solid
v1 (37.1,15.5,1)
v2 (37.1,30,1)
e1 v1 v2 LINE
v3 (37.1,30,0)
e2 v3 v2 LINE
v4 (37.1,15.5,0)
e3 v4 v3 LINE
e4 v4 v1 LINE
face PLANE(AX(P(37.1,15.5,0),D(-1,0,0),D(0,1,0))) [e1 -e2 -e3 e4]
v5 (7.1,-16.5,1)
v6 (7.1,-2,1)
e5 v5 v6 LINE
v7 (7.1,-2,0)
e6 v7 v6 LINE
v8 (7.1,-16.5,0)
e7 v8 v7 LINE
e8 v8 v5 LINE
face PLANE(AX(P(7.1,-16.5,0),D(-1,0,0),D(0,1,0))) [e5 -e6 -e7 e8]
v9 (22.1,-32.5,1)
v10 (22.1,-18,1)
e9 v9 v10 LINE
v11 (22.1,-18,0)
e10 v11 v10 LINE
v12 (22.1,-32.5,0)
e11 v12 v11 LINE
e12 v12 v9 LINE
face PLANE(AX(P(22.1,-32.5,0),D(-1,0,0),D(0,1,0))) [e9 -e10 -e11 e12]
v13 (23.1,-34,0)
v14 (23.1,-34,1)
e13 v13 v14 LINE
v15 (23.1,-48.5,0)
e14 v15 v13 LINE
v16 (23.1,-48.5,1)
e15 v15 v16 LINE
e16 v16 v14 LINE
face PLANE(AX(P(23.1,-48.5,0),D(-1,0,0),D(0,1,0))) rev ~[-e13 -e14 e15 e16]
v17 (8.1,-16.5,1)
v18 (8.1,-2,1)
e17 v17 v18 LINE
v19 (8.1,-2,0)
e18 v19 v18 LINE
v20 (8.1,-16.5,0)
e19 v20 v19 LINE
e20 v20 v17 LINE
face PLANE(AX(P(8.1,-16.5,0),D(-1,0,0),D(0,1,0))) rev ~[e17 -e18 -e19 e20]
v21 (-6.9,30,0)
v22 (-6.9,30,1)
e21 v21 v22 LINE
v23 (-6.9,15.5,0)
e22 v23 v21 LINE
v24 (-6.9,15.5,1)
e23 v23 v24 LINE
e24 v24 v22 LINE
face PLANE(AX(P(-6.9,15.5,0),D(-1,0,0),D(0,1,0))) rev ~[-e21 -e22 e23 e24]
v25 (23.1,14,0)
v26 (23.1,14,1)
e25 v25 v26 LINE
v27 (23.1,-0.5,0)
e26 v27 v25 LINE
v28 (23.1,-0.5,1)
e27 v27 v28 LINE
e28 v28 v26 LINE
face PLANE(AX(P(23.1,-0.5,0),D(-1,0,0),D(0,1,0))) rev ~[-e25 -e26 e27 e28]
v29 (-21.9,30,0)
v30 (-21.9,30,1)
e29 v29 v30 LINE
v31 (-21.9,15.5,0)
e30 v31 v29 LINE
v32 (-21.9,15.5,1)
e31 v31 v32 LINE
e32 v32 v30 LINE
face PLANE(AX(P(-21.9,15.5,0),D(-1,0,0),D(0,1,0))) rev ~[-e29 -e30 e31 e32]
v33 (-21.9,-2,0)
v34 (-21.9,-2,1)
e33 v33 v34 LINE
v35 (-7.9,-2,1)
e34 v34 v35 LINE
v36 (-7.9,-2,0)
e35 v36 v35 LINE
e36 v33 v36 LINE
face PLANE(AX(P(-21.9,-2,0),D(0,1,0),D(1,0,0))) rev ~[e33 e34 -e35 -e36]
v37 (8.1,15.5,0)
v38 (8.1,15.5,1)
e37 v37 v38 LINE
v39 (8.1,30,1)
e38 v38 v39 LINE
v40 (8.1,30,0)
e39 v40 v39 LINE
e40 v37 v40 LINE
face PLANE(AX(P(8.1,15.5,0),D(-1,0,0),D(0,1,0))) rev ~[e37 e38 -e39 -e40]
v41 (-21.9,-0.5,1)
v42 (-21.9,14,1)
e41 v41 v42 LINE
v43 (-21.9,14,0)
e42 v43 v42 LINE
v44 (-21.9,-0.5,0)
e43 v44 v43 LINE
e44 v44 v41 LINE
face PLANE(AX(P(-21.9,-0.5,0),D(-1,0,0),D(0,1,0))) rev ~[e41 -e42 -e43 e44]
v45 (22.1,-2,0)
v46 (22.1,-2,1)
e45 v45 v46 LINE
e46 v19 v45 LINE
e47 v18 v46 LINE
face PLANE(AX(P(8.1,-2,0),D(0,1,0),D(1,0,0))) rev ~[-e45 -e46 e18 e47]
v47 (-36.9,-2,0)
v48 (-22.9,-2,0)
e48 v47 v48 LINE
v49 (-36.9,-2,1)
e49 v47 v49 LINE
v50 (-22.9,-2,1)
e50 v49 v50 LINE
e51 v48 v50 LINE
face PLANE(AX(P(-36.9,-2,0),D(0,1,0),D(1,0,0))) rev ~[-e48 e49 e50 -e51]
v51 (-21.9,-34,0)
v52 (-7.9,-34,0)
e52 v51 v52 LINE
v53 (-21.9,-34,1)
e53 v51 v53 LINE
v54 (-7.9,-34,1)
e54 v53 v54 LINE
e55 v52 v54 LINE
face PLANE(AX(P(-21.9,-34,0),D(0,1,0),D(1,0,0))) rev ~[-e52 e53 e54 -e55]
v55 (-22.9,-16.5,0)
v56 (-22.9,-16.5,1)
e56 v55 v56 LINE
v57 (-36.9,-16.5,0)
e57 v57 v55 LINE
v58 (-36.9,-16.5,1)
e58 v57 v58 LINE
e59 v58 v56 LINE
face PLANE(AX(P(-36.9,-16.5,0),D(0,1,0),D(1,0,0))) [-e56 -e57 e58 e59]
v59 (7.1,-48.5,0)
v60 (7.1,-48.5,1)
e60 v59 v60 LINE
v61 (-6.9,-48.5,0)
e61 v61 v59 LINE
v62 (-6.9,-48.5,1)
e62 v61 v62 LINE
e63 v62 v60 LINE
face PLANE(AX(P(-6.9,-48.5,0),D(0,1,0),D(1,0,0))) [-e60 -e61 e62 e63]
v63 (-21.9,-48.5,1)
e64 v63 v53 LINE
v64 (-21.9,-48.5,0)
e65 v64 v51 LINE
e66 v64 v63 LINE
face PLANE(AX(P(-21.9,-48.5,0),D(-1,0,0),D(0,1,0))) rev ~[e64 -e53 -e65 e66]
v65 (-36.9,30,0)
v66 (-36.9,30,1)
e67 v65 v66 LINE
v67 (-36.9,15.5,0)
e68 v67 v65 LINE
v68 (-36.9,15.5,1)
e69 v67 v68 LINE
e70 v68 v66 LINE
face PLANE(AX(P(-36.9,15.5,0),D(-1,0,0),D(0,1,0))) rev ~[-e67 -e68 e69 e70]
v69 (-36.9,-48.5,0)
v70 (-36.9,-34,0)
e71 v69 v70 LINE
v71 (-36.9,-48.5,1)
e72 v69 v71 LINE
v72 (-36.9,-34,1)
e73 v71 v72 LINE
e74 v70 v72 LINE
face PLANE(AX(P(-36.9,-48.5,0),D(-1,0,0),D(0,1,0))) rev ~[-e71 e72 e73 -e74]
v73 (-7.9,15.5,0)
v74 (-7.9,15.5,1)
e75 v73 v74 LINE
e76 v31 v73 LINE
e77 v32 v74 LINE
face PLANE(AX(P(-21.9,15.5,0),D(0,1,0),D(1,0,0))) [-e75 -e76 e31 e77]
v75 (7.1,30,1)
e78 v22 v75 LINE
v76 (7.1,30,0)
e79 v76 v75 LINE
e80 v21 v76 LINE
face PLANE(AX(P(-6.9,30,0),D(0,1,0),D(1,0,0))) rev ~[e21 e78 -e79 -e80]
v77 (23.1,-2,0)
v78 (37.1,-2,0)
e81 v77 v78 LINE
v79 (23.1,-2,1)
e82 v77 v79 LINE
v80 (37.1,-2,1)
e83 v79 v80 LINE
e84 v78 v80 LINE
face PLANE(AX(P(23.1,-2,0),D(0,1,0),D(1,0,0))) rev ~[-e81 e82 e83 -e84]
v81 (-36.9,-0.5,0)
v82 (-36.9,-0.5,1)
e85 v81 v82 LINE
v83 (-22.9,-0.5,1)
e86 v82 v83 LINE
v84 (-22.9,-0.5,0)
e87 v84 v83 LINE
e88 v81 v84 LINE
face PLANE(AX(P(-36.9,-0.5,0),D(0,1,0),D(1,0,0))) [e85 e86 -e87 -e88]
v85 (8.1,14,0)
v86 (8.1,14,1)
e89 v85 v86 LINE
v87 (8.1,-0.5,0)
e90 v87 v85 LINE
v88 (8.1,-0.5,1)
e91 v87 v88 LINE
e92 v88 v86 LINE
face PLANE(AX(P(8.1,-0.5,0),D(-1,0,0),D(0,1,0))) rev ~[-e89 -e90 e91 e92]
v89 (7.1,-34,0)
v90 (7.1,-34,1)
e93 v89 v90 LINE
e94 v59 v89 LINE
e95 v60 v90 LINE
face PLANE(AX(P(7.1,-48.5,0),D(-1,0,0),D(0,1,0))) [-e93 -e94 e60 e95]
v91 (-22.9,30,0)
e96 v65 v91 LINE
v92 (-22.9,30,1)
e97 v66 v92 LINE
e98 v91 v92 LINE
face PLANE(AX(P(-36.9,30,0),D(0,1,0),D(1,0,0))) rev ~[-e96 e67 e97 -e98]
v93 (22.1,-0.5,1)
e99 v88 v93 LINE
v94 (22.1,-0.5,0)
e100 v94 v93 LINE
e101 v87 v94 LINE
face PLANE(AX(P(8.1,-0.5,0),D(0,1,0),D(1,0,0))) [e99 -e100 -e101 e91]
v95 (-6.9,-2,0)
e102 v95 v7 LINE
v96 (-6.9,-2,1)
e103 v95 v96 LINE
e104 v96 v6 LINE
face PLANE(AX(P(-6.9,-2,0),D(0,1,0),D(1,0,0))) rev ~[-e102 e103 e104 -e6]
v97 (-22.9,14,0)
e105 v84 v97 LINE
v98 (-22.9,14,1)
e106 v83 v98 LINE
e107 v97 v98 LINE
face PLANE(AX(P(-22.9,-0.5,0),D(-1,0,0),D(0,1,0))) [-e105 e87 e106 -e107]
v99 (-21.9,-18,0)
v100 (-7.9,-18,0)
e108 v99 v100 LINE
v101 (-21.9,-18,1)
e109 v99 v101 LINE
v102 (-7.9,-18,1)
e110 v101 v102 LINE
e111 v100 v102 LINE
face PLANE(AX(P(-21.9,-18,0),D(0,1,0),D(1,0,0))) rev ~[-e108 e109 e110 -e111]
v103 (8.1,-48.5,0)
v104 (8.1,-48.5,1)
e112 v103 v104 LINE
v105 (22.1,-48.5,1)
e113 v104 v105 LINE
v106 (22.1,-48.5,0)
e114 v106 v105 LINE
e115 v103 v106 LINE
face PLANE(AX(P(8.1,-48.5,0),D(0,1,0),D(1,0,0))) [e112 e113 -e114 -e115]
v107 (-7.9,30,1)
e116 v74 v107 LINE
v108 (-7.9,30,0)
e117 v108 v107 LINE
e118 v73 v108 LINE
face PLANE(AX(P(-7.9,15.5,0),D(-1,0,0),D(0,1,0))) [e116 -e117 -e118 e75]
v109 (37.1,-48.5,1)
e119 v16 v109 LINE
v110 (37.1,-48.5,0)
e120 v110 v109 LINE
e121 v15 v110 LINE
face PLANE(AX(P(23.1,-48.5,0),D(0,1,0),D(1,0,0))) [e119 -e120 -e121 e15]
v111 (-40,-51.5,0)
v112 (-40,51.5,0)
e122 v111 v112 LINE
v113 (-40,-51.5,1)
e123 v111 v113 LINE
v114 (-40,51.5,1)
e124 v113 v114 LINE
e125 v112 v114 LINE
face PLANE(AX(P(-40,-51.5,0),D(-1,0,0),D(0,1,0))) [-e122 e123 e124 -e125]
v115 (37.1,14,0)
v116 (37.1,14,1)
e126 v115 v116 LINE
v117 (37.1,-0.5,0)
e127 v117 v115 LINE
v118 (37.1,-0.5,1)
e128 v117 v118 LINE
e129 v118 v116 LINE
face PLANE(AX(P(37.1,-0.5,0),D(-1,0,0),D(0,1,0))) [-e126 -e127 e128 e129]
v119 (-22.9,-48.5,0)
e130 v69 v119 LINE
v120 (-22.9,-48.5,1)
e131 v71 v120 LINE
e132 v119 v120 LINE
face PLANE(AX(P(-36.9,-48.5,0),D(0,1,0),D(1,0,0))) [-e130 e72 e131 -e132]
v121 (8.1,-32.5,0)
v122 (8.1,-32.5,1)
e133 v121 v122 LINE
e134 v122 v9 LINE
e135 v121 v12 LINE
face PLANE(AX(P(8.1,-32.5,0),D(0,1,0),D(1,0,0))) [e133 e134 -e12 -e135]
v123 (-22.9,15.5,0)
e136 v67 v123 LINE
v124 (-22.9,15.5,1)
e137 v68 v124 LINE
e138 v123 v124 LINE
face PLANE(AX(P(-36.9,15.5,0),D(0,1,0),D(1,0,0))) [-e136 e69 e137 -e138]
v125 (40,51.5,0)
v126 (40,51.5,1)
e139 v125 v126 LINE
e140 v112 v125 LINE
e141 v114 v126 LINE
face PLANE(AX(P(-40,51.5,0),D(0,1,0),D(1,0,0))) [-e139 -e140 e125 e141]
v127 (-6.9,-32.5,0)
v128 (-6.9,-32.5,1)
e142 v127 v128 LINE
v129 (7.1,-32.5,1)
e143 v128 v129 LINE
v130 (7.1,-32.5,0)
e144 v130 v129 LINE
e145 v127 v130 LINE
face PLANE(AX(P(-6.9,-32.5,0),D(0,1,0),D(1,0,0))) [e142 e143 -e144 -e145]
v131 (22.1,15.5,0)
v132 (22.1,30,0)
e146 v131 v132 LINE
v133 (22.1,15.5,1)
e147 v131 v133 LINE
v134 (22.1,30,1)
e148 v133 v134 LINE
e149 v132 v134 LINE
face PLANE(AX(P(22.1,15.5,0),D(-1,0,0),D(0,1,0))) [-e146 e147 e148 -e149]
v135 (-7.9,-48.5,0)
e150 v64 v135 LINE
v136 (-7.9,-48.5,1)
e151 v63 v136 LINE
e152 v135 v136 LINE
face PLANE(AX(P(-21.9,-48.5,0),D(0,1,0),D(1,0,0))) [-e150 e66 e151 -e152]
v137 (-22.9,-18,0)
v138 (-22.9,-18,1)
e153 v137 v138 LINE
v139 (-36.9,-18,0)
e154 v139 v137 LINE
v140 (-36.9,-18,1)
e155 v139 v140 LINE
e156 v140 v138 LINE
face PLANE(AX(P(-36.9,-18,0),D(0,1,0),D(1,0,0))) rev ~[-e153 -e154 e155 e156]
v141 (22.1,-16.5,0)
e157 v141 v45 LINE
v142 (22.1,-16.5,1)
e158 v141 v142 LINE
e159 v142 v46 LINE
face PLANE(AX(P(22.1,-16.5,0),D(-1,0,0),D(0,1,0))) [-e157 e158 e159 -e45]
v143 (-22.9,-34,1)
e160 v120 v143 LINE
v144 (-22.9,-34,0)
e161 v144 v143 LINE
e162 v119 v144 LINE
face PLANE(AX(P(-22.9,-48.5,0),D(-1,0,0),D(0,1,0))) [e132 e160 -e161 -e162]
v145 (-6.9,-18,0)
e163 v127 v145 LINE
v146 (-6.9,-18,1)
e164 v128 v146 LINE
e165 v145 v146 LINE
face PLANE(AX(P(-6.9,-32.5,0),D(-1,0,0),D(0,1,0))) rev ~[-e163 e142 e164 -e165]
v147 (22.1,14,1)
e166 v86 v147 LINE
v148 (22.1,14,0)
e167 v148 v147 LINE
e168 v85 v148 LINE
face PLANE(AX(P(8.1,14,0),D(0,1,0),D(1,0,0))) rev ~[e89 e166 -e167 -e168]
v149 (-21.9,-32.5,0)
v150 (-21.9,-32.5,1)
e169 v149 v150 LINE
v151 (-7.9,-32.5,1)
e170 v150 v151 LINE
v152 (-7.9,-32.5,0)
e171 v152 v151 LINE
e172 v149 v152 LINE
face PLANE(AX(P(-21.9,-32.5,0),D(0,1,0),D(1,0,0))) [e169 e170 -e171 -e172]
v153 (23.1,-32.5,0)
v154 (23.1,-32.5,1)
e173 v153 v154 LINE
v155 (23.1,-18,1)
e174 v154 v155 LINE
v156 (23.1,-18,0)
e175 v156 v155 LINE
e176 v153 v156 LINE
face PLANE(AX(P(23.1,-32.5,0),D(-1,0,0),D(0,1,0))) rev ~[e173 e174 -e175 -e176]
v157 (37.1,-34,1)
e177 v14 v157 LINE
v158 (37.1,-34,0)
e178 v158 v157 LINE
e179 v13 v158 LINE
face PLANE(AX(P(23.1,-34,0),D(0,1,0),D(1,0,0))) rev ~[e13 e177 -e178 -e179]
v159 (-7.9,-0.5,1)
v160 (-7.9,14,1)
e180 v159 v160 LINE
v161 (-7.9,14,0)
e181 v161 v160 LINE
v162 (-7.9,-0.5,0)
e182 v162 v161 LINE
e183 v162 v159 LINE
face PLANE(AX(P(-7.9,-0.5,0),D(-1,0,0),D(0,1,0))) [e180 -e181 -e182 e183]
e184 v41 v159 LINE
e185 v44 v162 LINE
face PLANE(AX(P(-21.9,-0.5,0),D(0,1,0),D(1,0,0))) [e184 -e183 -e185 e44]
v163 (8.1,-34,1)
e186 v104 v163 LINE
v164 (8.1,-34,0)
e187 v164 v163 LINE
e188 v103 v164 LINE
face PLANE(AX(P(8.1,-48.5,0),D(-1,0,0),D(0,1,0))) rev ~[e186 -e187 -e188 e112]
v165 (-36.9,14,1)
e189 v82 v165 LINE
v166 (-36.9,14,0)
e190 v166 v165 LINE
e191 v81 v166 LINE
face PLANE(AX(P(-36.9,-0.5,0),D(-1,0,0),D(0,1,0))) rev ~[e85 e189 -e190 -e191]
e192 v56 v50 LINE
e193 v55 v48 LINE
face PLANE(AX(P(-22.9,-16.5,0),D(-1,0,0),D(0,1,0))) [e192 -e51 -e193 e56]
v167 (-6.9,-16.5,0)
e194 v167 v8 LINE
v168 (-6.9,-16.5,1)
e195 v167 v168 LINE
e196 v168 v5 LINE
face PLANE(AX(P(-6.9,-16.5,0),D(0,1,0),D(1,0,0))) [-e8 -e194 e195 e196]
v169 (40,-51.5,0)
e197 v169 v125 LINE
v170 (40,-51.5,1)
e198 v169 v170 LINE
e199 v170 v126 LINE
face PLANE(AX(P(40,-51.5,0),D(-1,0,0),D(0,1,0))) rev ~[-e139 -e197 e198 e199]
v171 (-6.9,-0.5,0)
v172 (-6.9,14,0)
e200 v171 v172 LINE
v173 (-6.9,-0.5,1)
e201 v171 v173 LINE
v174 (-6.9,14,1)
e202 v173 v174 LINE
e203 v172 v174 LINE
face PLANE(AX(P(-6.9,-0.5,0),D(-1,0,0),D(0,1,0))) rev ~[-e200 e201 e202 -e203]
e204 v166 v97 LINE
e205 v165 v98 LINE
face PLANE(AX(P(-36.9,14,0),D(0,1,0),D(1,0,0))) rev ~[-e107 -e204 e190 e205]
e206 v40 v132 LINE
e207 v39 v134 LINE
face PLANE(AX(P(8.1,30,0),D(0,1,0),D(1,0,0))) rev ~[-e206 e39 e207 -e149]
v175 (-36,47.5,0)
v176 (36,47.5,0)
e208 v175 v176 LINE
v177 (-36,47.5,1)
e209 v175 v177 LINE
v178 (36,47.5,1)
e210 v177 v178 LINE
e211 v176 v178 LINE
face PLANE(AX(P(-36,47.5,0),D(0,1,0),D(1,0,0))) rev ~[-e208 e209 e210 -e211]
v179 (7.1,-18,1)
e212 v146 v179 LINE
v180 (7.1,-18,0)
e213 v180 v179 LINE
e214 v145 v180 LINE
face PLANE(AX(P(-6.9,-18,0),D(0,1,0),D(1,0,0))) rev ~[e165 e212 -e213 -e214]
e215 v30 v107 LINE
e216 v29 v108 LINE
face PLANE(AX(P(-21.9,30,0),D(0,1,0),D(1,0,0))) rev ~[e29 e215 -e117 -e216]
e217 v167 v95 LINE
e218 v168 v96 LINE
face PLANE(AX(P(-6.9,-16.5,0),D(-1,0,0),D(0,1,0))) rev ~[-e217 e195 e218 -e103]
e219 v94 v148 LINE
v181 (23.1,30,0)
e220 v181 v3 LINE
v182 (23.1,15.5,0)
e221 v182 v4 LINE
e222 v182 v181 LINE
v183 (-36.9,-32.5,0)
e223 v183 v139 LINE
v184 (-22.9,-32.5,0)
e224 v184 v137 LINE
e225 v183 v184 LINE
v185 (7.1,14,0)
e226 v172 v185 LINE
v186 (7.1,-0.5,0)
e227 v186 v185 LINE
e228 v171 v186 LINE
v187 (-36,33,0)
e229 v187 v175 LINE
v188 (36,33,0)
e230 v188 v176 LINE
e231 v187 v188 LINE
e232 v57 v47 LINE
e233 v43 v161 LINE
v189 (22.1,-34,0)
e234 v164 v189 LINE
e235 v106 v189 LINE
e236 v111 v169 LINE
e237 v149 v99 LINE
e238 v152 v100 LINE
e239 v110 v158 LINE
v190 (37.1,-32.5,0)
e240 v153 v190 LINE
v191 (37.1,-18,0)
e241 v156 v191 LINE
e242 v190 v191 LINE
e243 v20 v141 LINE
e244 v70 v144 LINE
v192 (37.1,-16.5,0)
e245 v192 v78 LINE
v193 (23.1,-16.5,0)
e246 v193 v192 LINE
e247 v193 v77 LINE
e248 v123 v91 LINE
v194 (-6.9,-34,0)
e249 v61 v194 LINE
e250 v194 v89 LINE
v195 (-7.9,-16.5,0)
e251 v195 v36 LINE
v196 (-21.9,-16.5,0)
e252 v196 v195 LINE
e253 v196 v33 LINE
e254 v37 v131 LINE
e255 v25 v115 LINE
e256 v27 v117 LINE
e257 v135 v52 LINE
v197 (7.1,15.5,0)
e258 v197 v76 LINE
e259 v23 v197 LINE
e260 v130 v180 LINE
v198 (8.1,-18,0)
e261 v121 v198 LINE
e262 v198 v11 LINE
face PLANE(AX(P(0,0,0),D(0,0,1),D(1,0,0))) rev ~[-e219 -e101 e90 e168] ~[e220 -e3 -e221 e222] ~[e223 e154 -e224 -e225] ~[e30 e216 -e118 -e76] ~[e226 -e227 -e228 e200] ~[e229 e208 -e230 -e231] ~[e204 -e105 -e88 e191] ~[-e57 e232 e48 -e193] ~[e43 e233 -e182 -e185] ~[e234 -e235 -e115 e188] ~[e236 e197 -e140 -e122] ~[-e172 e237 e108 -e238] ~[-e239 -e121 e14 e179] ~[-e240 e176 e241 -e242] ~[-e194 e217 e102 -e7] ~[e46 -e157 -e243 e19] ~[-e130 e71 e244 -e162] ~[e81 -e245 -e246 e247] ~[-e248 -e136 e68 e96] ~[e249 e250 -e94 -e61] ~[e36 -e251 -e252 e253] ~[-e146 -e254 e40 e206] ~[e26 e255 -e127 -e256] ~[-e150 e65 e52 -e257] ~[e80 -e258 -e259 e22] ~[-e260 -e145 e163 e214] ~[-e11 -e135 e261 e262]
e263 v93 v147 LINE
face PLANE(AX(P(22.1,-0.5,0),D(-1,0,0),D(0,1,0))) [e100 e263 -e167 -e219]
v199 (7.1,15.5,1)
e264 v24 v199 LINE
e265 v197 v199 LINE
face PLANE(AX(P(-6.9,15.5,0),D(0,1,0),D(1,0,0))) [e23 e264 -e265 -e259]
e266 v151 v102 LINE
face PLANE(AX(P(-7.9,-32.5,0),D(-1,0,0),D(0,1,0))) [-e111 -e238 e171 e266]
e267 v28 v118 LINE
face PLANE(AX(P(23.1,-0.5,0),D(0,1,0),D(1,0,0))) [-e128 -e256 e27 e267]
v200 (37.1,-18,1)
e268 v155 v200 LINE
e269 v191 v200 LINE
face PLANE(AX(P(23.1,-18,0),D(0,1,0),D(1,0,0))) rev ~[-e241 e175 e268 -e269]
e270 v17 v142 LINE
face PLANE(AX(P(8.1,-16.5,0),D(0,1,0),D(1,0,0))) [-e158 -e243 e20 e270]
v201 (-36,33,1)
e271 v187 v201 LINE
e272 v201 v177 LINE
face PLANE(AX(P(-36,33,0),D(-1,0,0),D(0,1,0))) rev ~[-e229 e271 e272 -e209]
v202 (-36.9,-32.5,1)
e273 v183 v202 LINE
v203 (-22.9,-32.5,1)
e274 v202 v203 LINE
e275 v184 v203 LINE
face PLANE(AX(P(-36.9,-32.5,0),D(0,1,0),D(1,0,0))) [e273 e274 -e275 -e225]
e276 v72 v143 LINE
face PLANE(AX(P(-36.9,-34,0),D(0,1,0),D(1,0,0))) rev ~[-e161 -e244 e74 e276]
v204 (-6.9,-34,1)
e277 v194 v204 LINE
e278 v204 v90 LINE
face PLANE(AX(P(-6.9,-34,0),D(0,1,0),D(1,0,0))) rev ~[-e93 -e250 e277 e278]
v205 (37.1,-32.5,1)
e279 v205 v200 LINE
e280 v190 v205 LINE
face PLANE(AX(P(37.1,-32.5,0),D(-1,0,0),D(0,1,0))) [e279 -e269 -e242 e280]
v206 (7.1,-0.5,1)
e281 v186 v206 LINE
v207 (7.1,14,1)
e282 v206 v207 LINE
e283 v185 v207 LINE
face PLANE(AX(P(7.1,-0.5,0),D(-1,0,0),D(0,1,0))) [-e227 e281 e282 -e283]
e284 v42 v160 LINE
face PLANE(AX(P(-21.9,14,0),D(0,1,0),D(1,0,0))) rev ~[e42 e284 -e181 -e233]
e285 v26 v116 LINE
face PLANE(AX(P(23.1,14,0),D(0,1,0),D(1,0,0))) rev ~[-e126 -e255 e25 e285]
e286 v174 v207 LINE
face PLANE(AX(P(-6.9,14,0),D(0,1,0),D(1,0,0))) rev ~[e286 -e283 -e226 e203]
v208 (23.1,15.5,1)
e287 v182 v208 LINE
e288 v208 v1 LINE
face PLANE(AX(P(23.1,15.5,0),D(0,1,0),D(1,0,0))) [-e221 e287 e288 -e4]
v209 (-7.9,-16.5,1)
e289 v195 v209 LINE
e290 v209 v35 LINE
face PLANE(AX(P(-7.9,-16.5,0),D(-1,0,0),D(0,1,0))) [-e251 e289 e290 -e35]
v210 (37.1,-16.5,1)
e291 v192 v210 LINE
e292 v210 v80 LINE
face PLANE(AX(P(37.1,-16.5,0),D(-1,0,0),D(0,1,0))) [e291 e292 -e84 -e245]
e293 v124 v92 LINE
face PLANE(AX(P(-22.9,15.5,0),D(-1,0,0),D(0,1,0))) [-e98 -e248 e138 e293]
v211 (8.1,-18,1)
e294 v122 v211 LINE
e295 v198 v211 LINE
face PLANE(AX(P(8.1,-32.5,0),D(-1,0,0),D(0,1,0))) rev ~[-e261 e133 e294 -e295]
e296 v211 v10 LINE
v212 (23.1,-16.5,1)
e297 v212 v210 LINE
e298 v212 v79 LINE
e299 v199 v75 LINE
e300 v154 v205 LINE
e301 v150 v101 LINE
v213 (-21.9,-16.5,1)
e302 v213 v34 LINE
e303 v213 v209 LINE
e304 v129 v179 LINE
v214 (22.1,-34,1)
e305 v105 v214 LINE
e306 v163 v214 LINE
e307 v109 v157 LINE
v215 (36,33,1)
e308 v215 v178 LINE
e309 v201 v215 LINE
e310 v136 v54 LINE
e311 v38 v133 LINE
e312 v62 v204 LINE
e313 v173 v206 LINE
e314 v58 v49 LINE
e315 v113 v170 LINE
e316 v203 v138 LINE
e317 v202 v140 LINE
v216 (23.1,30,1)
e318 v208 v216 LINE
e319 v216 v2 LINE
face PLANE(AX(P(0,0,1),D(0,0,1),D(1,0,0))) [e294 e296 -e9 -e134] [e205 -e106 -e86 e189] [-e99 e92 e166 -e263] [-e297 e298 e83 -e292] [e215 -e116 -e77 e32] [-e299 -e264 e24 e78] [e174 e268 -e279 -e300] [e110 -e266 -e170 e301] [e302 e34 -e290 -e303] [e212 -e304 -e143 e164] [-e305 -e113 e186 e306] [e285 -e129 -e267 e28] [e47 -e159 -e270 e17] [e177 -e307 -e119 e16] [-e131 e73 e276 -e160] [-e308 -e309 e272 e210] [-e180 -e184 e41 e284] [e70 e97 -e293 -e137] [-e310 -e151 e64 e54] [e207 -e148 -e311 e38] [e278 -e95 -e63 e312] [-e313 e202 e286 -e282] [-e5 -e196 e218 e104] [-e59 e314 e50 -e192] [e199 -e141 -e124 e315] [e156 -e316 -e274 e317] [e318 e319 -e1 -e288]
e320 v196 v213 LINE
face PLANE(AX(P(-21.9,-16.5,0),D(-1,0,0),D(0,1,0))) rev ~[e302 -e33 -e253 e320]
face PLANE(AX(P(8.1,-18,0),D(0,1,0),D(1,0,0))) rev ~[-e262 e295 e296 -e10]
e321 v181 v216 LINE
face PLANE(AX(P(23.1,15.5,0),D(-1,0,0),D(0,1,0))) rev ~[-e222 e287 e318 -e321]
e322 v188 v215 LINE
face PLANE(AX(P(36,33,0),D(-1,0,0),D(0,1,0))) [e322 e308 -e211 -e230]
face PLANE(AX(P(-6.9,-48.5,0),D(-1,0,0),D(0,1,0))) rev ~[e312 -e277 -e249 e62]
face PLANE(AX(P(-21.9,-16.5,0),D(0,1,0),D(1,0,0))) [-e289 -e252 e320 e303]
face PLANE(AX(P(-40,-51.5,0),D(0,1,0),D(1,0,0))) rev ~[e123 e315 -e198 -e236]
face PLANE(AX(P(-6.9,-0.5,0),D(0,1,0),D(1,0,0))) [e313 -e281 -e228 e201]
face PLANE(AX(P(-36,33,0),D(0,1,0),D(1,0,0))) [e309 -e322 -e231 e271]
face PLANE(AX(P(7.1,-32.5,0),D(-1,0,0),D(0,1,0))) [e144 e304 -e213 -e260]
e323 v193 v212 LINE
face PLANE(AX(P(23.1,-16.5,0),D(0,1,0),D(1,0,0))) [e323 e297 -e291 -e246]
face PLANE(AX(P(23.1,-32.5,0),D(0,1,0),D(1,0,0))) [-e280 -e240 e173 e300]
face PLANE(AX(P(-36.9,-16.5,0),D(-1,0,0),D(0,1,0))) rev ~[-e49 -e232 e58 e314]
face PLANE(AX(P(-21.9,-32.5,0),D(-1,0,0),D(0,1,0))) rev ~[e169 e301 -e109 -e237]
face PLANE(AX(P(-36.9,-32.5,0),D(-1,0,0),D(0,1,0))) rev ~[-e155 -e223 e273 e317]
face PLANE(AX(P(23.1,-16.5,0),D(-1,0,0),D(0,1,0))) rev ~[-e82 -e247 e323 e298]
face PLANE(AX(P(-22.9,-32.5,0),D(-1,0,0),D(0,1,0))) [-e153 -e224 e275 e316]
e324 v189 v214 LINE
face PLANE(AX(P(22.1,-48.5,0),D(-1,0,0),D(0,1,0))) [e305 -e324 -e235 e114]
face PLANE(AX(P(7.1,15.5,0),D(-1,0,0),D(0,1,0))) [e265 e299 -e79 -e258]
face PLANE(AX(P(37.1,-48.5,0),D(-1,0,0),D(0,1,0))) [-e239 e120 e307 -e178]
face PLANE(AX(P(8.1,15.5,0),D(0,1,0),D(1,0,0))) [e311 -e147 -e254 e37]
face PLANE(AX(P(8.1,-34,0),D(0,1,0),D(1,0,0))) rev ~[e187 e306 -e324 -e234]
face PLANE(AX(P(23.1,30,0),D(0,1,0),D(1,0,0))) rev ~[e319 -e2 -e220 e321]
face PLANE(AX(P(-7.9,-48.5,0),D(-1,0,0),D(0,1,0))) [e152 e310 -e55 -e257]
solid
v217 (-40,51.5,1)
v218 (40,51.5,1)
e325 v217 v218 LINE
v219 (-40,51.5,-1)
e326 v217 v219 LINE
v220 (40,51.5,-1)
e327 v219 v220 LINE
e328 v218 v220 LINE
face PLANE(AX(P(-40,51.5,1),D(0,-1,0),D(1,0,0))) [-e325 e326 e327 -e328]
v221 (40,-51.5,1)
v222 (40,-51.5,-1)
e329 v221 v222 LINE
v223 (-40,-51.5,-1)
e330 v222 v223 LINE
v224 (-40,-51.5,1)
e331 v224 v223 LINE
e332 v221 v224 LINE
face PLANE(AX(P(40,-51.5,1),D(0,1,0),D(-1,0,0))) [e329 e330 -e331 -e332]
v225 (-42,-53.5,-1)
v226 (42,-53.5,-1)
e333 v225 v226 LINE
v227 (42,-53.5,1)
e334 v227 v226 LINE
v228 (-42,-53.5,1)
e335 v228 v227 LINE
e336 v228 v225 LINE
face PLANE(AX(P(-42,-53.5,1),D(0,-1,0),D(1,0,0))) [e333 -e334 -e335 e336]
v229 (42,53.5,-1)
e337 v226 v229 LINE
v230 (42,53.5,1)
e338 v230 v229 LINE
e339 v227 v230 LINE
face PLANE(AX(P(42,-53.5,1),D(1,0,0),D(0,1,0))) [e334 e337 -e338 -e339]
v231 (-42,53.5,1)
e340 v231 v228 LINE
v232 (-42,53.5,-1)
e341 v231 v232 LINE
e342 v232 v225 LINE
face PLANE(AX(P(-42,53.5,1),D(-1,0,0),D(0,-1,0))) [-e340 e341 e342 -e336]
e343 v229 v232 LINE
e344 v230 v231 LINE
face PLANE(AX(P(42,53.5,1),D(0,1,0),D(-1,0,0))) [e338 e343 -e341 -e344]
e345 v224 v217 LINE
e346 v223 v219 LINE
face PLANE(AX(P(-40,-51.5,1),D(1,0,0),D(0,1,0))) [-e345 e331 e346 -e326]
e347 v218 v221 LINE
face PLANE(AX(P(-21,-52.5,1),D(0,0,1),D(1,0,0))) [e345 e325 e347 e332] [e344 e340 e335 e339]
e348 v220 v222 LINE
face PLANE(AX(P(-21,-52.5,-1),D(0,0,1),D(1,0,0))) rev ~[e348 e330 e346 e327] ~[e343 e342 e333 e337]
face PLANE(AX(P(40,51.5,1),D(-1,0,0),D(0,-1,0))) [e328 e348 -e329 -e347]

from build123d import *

# Parameters (mm, degrees)
F0_W     = 80
F0_H     = 103
F0_W_2   = 14
F0_H_2   = 14.5
F0_W_3   = 72
F1_DEPTH = 1
F2_W     = 40
F2_H     = 2
F3_DEPTH = 2


with BuildPart() as f1:
    # F0 (on Top) → F1 (new body)
    with BuildSketch(Plane.XY):
        Rectangle(F0_W, F0_H)
        with Locations((-29.9, -41.25)):
            Rectangle(F0_W_2, F0_H_2, mode=Mode.SUBTRACT)
        with Locations((-14.9, -41.25)):
            Rectangle(F0_W_2, F0_H_2, mode=Mode.SUBTRACT)
        with Locations((-29.9, -25.25)):
            Rectangle(F0_W_2, F0_H_2, mode=Mode.SUBTRACT)
        with Locations((-29.9, -9.25)):
            Rectangle(F0_W_2, F0_H_2, mode=Mode.SUBTRACT)
        with Locations((-14.9, -25.25)):
            Rectangle(F0_W_2, F0_H_2, mode=Mode.SUBTRACT)
        with Locations((-14.9, -9.25)):
            Rectangle(F0_W_2, F0_H_2, mode=Mode.SUBTRACT)
        with Locations((0.1, -41.25)):
            Rectangle(F0_W_2, F0_H_2, mode=Mode.SUBTRACT)
        with Locations((15.1, -41.25)):
            Rectangle(F0_W_2, F0_H_2, mode=Mode.SUBTRACT)
        with Locations((30.1, -41.25)):
            Rectangle(F0_W_2, F0_H_2, mode=Mode.SUBTRACT)
        with Locations((0.1, -25.25)):
            Rectangle(F0_W_2, F0_H_2, mode=Mode.SUBTRACT)
        with Locations((15.1, -25.25)):
            Rectangle(F0_W_2, F0_H_2, mode=Mode.SUBTRACT)
        with Locations((0.1, -9.25)):
            Rectangle(F0_W_2, F0_H_2, mode=Mode.SUBTRACT)
        with Locations((15.1, -9.25)):
            Rectangle(F0_W_2, F0_H_2, mode=Mode.SUBTRACT)
        with Locations((30.1, -25.25)):
            Rectangle(F0_W_2, F0_H_2, mode=Mode.SUBTRACT)
        with Locations((30.1, -9.25)):
            Rectangle(F0_W_2, F0_H_2, mode=Mode.SUBTRACT)
        with Locations((-29.9, 6.75)):
            Rectangle(F0_W_2, F0_H_2, mode=Mode.SUBTRACT)
        with Locations((-29.9, 22.75)):
            Rectangle(F0_W_2, F0_H_2, mode=Mode.SUBTRACT)
        with Locations((-14.9, 6.75)):
            Rectangle(F0_W_2, F0_H_2, mode=Mode.SUBTRACT)
        with Locations((-14.9, 22.75)):
            Rectangle(F0_W_2, F0_H_2, mode=Mode.SUBTRACT)
        with Locations((0.1, 6.75)):
            Rectangle(F0_W_2, F0_H_2, mode=Mode.SUBTRACT)
        with Locations((15.1, 6.75)):
            Rectangle(F0_W_2, F0_H_2, mode=Mode.SUBTRACT)
        with Locations((0.1, 22.75)):
            Rectangle(F0_W_2, F0_H_2, mode=Mode.SUBTRACT)
        with Locations((15.1, 22.75)):
            Rectangle(F0_W_2, F0_H_2, mode=Mode.SUBTRACT)
        with Locations((30.1, 6.75)):
            Rectangle(F0_W_2, F0_H_2, mode=Mode.SUBTRACT)
        with Locations((30.1, 22.75)):
            Rectangle(F0_W_2, F0_H_2, mode=Mode.SUBTRACT)
        with Locations((0, 40.25)):
            Rectangle(F0_W_3, F0_H_2, mode=Mode.SUBTRACT)
    extrude(amount=F1_DEPTH)


with BuildPart() as f3:
    # F2 (on face) → F3 (new body)
    with BuildSketch(Plane.XY.offset(1)):
        Polygon((0, -51.5), (-40, -51.5), (-42, -51.5), (-42, -53.5), (0, -53.5), align=None)
        Polygon((40, -51.5), (0, -51.5), (0, -53.5), (42, -53.5), (42, -51.5), align=None)
        Polygon((40, 51.5), (40, -51.5), (42, -51.5), (42, 53.5), (40, 53.5), align=None)
        Polygon((-42, -51.5), (-40, -51.5), (-40, 51.5), (-40, 53.5), (-42, 53.5), align=None)
        with Locations((-20, 52.5)):
            Rectangle(F2_W, F2_H)
        with Locations((20, 52.5)):
            Rectangle(F2_W, F2_H)
    extrude(amount=-F3_DEPTH)


solid = Compound([f1.part, f3.part])
